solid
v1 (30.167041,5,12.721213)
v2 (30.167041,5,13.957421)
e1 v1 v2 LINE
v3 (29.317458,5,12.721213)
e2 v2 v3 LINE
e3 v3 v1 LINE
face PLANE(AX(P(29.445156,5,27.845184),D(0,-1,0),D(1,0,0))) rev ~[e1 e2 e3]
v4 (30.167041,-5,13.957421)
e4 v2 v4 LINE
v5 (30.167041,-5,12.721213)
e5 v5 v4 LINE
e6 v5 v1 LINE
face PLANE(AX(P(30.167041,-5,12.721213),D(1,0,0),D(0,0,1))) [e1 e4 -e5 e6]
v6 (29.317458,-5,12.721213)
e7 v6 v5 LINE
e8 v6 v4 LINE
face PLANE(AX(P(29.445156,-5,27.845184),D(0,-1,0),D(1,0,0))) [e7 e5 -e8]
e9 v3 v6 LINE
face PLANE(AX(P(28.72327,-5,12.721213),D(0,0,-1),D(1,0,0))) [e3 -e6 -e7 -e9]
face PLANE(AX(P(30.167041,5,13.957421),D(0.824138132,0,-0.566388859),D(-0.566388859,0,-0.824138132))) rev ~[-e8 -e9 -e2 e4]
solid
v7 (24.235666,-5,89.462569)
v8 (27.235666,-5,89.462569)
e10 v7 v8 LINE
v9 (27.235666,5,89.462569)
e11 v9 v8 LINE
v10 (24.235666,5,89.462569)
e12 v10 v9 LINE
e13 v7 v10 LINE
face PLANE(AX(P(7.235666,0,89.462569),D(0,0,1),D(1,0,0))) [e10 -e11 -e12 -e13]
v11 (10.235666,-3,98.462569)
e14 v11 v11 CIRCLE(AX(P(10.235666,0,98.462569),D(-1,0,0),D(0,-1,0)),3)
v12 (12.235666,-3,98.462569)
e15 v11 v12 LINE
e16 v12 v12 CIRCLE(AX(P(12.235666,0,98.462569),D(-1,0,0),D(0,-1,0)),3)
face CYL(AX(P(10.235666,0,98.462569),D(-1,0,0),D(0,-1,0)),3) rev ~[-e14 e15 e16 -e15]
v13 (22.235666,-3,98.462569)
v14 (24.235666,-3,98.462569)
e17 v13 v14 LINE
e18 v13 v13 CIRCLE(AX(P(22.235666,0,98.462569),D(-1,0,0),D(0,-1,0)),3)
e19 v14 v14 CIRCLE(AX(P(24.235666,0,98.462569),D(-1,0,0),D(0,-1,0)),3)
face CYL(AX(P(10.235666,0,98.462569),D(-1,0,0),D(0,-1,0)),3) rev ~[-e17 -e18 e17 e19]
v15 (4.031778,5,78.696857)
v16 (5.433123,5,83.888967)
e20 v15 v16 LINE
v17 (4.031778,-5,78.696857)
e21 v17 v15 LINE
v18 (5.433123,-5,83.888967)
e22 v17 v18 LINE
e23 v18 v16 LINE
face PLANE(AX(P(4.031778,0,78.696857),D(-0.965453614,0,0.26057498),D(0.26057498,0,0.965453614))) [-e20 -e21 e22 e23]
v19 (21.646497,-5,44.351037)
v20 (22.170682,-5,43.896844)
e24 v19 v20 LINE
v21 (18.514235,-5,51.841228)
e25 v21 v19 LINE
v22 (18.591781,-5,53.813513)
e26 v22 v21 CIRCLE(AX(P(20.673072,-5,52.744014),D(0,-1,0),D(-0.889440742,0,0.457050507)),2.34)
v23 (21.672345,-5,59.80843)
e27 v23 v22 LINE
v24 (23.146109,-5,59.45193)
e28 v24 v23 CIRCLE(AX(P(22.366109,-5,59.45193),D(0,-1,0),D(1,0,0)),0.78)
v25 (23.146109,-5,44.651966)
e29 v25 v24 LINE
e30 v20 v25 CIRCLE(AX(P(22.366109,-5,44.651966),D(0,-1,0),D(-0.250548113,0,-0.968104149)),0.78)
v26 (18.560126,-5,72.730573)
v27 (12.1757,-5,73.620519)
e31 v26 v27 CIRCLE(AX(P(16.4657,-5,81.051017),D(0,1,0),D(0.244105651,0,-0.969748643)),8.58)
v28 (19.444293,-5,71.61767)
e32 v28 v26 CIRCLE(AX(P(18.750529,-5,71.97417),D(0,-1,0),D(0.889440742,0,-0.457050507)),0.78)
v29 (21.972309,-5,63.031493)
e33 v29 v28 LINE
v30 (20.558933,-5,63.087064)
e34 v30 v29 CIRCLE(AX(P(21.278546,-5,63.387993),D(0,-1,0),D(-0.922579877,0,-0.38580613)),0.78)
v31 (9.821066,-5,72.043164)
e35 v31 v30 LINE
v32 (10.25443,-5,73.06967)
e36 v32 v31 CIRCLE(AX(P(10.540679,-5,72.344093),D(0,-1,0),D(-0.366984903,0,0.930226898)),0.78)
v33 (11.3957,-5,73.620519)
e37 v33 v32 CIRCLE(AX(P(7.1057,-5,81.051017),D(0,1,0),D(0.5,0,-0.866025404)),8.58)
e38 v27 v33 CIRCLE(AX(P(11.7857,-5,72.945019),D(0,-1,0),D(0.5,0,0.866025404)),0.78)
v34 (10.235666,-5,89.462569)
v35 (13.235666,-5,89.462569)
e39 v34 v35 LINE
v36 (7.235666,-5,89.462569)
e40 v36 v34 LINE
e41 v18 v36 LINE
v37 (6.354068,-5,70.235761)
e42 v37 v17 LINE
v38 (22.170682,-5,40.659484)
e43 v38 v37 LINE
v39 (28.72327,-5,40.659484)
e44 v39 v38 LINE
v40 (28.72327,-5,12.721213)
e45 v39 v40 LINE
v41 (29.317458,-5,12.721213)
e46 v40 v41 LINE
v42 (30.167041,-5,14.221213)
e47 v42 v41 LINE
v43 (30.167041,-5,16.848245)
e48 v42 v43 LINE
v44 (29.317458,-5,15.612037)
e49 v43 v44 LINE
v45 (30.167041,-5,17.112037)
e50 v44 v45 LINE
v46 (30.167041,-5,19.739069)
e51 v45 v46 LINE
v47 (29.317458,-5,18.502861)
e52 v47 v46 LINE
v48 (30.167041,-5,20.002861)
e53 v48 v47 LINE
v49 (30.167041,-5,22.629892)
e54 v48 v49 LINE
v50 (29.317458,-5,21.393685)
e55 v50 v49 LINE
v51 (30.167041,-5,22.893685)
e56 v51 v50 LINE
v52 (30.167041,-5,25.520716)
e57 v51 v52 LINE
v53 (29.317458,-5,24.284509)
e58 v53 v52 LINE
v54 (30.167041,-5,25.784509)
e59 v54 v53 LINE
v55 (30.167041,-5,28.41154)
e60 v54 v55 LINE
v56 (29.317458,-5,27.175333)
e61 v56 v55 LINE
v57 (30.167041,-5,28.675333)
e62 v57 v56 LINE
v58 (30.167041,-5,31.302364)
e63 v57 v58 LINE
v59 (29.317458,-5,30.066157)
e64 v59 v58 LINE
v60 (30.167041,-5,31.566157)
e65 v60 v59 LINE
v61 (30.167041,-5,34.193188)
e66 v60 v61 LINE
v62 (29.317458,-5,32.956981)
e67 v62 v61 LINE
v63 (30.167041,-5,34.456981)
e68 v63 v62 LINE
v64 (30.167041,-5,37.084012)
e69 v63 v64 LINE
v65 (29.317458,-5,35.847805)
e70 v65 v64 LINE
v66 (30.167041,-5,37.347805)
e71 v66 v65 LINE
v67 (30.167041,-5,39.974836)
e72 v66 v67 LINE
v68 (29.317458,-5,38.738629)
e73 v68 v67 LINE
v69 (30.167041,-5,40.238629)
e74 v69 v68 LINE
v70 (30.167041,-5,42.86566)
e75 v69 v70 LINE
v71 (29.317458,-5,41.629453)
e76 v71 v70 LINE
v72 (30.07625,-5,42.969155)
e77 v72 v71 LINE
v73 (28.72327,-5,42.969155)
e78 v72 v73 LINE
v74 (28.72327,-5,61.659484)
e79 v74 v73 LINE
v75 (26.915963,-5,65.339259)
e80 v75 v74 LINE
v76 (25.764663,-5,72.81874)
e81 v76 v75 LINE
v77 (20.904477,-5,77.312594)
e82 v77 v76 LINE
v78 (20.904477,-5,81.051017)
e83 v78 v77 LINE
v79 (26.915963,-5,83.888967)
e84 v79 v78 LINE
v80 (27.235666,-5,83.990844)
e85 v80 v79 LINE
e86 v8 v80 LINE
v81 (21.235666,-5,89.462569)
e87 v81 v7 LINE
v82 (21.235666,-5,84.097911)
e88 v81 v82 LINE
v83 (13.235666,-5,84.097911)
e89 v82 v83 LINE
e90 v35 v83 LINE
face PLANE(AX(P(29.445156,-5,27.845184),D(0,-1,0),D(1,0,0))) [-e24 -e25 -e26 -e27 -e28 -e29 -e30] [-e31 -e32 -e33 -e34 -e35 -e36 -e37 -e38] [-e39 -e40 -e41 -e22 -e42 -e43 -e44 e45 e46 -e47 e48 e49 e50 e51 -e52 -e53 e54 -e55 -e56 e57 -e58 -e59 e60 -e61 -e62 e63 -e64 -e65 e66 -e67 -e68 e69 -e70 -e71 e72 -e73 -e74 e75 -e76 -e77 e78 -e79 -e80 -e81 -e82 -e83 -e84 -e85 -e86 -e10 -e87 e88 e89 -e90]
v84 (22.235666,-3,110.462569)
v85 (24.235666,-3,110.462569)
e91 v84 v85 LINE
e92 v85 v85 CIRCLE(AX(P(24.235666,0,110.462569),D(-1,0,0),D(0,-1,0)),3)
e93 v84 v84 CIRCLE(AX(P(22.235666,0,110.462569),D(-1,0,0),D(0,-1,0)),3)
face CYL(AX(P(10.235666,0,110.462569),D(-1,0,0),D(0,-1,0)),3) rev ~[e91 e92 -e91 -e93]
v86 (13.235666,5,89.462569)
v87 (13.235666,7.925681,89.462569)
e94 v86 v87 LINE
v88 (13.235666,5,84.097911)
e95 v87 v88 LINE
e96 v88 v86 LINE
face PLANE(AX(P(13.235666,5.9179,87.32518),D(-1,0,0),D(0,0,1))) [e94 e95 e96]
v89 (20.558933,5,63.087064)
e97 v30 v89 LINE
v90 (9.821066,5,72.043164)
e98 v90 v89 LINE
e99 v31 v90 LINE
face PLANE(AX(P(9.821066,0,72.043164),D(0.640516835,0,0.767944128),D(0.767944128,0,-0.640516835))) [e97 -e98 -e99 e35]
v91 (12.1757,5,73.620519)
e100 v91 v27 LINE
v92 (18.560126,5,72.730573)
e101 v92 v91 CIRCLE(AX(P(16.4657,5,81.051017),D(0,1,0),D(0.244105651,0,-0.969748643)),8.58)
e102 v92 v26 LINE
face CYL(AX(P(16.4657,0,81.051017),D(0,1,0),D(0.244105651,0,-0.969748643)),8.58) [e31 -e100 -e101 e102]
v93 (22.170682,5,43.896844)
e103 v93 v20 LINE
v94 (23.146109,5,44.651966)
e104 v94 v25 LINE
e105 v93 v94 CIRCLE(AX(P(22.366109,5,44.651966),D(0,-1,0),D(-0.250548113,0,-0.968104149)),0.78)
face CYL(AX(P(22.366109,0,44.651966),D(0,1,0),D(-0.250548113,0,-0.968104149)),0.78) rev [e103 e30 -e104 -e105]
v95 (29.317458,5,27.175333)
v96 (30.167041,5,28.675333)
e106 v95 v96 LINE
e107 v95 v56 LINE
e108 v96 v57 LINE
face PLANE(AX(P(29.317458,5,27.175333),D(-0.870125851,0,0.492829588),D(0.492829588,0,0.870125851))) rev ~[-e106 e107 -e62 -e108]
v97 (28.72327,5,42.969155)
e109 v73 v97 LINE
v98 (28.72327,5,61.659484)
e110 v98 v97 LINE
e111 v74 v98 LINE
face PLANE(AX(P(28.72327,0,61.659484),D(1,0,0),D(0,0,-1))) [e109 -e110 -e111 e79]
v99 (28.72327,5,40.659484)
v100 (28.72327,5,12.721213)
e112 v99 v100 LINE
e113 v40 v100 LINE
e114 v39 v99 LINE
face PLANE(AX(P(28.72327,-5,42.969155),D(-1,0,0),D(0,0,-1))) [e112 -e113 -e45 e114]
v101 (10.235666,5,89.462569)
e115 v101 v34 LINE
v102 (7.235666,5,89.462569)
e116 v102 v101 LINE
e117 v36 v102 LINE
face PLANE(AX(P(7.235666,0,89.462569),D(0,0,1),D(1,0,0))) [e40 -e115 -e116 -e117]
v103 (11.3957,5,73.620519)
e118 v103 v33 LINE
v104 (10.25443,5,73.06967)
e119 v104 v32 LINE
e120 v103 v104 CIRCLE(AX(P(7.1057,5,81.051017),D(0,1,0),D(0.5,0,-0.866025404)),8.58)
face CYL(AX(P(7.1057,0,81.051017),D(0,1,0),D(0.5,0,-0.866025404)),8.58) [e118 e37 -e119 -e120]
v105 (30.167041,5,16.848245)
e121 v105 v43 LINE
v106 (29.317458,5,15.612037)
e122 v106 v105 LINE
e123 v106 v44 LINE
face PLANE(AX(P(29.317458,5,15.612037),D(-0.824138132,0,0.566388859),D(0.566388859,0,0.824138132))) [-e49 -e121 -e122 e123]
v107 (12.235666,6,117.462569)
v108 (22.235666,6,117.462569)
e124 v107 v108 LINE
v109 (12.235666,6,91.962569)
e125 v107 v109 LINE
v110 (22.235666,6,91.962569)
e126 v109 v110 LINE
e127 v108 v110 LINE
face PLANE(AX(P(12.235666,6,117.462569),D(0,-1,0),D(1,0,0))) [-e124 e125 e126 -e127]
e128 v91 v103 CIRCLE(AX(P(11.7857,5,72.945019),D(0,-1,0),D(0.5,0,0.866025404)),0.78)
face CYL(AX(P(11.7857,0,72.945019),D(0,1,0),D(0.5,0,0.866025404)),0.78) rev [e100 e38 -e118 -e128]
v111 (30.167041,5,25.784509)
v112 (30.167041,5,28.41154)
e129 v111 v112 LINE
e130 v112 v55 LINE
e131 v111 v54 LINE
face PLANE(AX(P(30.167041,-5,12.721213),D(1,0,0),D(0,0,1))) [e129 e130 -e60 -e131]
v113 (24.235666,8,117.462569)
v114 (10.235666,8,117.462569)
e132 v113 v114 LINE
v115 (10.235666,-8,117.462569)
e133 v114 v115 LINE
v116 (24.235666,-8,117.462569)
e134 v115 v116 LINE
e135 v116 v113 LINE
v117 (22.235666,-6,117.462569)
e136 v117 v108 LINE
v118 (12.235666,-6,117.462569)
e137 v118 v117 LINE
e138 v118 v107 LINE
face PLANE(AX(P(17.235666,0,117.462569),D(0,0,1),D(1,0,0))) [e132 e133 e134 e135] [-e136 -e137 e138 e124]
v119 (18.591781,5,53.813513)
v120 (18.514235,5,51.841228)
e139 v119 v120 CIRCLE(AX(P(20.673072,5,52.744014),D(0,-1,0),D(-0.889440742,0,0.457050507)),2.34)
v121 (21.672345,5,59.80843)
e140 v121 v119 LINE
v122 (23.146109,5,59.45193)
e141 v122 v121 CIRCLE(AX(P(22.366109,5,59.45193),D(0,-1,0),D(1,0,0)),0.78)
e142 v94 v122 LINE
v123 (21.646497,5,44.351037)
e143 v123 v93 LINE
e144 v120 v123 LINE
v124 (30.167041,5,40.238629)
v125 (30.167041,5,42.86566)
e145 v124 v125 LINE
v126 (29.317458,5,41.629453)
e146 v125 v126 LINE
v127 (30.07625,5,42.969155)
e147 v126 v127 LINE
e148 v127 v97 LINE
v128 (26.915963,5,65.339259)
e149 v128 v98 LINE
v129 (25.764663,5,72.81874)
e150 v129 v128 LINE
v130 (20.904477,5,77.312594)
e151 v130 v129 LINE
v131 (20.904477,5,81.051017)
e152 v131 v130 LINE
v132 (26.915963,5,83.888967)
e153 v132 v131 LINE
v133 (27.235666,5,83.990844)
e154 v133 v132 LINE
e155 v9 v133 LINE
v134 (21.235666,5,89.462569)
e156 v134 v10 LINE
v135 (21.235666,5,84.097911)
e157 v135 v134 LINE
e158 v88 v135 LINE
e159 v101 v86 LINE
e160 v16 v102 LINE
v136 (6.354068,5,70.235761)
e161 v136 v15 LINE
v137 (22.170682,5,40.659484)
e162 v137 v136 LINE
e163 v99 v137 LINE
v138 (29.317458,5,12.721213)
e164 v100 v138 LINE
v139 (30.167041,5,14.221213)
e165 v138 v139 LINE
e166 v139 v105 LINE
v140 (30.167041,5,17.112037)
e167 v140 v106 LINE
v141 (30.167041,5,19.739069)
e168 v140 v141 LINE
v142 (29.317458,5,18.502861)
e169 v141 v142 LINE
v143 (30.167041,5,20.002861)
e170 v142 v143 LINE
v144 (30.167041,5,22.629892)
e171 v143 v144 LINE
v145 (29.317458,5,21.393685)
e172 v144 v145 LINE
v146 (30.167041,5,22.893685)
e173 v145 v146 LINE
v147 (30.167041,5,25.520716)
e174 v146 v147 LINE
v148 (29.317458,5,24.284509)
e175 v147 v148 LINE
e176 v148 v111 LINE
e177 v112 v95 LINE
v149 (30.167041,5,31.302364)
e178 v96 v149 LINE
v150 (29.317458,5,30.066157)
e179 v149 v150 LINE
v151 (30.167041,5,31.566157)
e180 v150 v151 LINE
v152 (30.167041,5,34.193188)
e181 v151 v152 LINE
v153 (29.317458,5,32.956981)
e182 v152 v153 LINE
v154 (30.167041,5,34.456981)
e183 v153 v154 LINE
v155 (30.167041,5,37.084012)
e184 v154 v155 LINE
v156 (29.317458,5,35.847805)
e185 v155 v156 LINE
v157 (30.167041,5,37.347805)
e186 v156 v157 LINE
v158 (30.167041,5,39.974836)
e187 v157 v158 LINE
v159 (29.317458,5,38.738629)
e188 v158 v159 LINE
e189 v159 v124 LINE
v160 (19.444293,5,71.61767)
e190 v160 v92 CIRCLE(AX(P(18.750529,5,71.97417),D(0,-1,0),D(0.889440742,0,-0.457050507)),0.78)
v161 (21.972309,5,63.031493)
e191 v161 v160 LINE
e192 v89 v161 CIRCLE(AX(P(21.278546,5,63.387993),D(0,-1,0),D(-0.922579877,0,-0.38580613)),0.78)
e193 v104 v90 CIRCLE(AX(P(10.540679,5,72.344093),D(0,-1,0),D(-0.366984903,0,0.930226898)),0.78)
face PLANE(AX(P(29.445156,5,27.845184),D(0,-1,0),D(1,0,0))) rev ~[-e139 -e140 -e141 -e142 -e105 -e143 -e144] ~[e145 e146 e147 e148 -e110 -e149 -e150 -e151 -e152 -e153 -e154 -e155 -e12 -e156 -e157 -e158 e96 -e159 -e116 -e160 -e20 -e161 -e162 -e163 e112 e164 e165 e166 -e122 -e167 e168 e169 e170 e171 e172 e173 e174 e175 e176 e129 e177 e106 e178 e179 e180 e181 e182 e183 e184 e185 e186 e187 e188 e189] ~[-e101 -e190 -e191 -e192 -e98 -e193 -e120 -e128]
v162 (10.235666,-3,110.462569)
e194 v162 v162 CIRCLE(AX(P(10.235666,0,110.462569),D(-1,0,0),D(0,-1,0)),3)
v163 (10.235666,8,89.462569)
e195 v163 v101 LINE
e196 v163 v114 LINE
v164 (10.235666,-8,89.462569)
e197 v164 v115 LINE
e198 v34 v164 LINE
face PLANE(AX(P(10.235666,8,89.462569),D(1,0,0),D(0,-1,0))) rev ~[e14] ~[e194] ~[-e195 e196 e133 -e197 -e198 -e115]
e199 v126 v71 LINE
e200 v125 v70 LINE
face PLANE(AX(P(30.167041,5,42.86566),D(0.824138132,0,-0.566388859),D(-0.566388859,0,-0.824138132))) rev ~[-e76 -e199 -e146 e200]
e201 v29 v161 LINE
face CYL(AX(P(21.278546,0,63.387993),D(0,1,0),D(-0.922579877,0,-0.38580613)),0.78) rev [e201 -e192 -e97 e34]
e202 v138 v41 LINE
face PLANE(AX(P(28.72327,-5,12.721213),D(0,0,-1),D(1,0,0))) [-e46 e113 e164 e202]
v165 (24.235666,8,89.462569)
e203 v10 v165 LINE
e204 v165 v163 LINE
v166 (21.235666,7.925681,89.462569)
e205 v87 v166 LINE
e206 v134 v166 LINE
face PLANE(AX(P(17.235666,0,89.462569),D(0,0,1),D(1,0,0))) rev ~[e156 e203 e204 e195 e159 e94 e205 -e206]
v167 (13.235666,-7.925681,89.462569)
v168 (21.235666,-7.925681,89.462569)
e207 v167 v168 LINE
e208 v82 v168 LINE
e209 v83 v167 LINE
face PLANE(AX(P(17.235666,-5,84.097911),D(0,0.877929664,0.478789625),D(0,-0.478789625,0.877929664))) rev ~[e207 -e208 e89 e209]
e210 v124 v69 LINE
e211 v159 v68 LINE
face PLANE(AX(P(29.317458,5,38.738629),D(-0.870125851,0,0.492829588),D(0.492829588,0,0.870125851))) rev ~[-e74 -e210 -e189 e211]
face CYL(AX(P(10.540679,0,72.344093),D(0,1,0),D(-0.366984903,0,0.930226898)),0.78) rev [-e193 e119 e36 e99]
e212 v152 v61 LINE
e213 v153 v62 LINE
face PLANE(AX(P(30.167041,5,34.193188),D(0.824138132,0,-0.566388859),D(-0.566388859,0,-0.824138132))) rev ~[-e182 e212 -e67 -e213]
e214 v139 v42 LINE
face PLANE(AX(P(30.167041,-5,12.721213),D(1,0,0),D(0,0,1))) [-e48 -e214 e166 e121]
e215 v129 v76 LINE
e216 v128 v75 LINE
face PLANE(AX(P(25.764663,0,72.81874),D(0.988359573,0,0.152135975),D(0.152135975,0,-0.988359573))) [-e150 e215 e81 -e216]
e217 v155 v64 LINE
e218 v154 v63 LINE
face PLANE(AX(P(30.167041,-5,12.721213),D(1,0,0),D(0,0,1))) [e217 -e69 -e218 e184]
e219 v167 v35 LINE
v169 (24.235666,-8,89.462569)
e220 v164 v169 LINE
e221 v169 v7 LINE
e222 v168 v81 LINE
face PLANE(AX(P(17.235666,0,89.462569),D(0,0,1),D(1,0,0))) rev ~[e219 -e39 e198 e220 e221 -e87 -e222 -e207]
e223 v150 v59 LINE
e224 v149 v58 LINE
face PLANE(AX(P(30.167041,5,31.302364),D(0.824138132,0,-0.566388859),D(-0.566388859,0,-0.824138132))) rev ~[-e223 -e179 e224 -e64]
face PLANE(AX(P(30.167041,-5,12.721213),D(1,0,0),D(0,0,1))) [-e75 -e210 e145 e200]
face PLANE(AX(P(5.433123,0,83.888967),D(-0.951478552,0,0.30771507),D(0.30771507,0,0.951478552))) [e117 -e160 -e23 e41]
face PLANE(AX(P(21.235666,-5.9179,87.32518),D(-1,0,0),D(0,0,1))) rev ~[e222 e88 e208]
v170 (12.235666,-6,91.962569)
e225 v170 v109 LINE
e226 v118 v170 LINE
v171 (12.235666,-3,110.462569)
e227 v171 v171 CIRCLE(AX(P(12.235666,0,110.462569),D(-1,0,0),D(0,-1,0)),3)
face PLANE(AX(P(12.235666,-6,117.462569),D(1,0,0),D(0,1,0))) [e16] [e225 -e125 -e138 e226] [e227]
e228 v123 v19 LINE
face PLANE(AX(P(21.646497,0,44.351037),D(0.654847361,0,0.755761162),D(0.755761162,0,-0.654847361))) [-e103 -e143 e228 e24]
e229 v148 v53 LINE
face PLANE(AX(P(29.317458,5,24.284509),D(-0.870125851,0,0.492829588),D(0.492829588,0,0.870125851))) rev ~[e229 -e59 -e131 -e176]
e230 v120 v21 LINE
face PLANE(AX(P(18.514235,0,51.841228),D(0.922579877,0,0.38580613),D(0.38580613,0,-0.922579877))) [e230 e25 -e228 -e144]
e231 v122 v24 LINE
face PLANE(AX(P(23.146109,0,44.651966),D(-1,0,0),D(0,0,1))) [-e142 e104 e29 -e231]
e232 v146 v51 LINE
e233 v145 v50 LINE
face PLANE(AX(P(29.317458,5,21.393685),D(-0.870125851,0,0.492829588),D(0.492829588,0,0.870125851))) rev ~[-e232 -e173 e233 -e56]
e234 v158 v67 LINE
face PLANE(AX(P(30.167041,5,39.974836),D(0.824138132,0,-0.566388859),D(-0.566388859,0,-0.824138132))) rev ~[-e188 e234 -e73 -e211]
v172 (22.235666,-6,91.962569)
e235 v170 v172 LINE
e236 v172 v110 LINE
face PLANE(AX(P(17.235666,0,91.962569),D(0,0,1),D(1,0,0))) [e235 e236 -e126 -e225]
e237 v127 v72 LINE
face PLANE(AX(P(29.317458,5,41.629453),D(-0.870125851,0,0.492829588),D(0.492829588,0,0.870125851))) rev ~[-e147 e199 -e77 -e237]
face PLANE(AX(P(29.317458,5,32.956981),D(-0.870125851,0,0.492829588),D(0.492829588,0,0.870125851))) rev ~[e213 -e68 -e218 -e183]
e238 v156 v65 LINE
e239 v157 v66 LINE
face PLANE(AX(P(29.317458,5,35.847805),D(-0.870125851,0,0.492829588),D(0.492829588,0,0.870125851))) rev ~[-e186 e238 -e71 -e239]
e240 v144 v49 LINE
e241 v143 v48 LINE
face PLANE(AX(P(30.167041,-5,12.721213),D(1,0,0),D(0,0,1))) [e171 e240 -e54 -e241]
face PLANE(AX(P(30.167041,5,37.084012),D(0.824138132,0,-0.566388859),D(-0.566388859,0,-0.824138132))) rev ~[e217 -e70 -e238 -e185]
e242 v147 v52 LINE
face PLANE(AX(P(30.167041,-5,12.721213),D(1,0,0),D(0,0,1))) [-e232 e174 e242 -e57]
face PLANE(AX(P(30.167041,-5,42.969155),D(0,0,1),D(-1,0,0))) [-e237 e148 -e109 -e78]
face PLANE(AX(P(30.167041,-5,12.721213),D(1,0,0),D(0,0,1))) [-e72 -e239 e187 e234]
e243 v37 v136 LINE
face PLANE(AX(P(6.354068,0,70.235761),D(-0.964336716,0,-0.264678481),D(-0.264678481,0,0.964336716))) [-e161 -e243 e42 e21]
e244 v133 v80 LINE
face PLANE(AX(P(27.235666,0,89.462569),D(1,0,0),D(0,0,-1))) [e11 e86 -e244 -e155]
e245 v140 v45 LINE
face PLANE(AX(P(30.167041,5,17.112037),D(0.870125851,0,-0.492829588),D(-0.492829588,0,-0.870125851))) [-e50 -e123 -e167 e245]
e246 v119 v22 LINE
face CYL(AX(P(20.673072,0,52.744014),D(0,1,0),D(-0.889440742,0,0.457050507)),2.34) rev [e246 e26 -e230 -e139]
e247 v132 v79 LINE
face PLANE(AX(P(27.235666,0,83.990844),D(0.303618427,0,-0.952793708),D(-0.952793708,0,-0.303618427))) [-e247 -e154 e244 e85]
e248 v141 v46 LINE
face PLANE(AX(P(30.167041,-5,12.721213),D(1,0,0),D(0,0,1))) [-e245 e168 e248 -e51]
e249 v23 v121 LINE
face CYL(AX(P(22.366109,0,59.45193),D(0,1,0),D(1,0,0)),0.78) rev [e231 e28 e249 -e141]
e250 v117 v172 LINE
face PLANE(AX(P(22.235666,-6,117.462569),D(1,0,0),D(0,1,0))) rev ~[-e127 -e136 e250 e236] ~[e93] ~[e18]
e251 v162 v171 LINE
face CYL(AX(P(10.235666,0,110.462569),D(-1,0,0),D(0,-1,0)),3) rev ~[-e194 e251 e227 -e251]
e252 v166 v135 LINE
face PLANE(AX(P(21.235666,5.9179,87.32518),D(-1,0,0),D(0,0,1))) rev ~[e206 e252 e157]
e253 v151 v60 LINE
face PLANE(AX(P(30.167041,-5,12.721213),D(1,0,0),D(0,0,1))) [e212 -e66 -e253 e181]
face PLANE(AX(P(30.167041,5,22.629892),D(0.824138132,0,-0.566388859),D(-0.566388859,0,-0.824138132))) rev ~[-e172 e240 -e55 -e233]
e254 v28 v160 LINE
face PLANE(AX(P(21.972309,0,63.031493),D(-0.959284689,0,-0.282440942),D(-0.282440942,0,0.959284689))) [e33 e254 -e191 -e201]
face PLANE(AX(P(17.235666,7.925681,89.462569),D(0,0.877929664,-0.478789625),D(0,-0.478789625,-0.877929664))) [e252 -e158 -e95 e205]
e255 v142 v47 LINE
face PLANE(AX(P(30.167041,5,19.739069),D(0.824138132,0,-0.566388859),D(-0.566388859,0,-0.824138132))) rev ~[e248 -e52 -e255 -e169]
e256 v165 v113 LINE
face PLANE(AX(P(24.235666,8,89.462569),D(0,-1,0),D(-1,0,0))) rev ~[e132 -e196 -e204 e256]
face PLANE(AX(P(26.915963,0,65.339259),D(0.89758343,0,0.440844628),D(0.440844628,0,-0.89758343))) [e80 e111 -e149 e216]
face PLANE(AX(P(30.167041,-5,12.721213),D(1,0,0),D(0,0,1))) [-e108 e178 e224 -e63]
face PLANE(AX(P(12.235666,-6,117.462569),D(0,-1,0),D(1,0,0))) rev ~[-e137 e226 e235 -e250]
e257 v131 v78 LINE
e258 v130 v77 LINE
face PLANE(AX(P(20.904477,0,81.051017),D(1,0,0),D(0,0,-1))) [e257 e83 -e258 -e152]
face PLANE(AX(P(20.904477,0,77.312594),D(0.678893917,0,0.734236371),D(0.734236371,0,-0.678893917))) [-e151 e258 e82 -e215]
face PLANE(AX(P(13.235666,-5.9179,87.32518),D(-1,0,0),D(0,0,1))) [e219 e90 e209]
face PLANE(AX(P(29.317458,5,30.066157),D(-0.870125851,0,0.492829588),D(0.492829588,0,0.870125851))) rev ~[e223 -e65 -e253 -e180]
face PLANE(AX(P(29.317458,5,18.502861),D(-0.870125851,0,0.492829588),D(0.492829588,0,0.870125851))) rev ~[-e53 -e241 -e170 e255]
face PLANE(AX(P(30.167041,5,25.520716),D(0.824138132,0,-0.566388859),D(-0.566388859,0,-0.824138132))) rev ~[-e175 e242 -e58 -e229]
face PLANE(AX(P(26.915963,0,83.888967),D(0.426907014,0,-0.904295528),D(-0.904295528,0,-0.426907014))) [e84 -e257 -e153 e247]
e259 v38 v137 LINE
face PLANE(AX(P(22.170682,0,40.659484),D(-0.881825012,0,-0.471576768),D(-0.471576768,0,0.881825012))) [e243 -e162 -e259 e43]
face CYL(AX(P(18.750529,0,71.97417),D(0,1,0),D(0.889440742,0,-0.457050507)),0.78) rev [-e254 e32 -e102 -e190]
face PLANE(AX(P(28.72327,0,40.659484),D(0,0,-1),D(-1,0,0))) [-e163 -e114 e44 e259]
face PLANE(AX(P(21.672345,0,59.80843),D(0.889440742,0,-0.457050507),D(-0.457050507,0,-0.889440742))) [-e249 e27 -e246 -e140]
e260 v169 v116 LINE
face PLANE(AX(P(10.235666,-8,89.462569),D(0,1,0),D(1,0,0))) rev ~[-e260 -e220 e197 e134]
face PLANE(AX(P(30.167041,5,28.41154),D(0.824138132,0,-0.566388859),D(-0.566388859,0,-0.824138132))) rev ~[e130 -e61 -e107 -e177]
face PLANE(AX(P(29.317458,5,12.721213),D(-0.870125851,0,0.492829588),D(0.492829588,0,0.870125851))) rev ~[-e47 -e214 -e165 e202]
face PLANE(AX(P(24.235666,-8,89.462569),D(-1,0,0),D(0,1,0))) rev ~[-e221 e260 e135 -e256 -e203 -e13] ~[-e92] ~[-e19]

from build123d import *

# Parameters (mm, degrees)
SALIENTE_EXTRUIR1_DEPTH = 5
SALIENTE_EXTRUIR2_DEPTH = 10
CUT_EXTRUDE1_DEPTH      = 95.93998922245981
BOSS_EXTRUDE2_DEPTH     = 28
SKETCH9_W               = 10.000000000000002
SKETCH9_H               = 12
CUT_EXTRUDE5_DEPTH      = 25.5
BOSS_EXTRUDE4_DEPTH     = 4
SKETCH8_R               = 2.999999999999989
CUT_EXTRUDE6_DEPTH      = 30


with BuildPart() as part:
    # Croquis1 → Saliente-Extruir1 (new, symmetric)
    with BuildSketch(Plane(origin=(0, 0, 0), x_dir=(1, 0, 0), z_dir=(0, 1, 0))):
        Polygon((26.915963098267575, -65.33925873527804), (28.72327045931731, -61.65948350871261), (28.72327045931731, -40.659483508712604), (22.170681671405973, -40.659483508712604), (6.35406798016902, -70.23576145650345), (4.0317775841889825, -78.69685690697727), (5.433122947121303, -83.88896685505465), (7.2356662280183635, -89.46256866352141), (27.235666228018367, -89.46256866352135), (27.235666228018367, -83.99084385179745), (26.915963098267575, -83.88896685505465), (20.90447714075739, -81.05101682856319), (20.90447714075739, -77.31259376727242), (25.764663289477145, -72.8187400941099), align=None)
        with BuildLine():
            Line((9.821066256588082, -72.04316428414087), (20.5589333036859, -63.08706400458823))
            ThreePointArc((20.5589333036859, -63.08706400458823), (20.767764666496063, -62.79849907988661), (21.083118079778938, -62.6328715501941))
            ThreePointArc((21.083118079778938, -62.6328715501941), (21.597621770602938, -62.67624114259194), (21.972309386725804, -63.031493390636115))
            Line((21.9723093867258, -63.031493390636115), (19.44429254500012, -71.61767013188037))
            ThreePointArc((19.44429254500012, -71.61767013188037), (19.502654350523237, -72.1808265025535), (19.16473943472284, -72.63510032730379))
            ThreePointArc((19.16473943472284, -72.63510032730379), (18.905879524091997, -72.73854256608807), (18.62717721828115, -72.74435417793264))
            ThreePointArc((18.62717721828115, -72.74435417793264), (18.593500542050098, -72.73819972124883), (18.560126358304874, -72.73057346932643))
            ThreePointArc((18.560126358304874, -72.73057346932643), (15.281159258646955, -72.55317807186373), (12.175699872191544, -73.62051886409272))
            ThreePointArc((12.175699872191544, -73.62051886409272), (11.987578727371515, -73.69844119364632), (11.785699872191557, -73.72501904914084))
            ThreePointArc((11.785699872191557, -73.72501904914084), (11.583821017011589, -73.69844119364633), (11.395699872191557, -73.62051886409272))
            ThreePointArc((11.395699872191557, -73.62051886409272), (10.835248951640853, -73.32399517310118), (10.254430336713742, -73.06967004610912))
            ThreePointArc((10.254430336713742, -73.06967004610912), (10.011115132081741, -72.9167732340473), (9.839678957283844, -72.68614504428194))
            ThreePointArc((9.839678957283844, -72.68614504428194), (9.76100515957486, -72.36666268002743), (9.821066256588082, -72.04316428414087))
        make_face(mode=Mode.SUBTRACT)
        with BuildLine():
            Line((21.672345420619333, -59.808429563113535), (18.5917806510747, -53.81351265341419))
            ThreePointArc((18.5917806510747, -53.81351265341419), (18.51589589891999, -53.65076212808047), (18.452714922493957, -53.48267169609864))
            ThreePointArc((18.452714922493957, -53.48267169609864), (18.334713754625824, -52.65637444161208), (18.514235075155533, -51.84122812108702))
            Line((18.514235075155533, -51.84122812108702), (21.64649689531295, -44.35103681201493))
            Line((21.64649689531295, -44.35103681201493), (22.170681671405973, -43.89684435762081))
            ThreePointArc((22.170681671405973, -43.89684435762081), (22.519573206251422, -43.88721151653816), (22.837737106462836, -44.03070307488359))
            ThreePointArc((22.837737106462836, -44.03070307488359), (23.06477570342122, -44.30517298097964), (23.146109199486098, -44.65196559376006))
            Line((23.146109199486098, -44.65196559376006), (23.146109199486098, -59.45193016741627))
            ThreePointArc((23.146109199486098, -59.45193016741627), (23.06477570342123, -59.7987227801967), (22.837737106462843, -60.07319268629275))
            ThreePointArc((22.837737106462843, -60.07319268629275), (22.19330594649592, -60.21254770320941), (21.672345420619333, -59.808429563113535))
        make_face(mode=Mode.SUBTRACT)
    extrude(amount=SALIENTE_EXTRUIR1_DEPTH, both=True)

    # Croquis2 → Saliente-Extruir2 (add)
    with BuildSketch(Plane.XZ.offset(5)):
        Polygon((30.16704098325694, 42.969154574791474), (28.723270459317312, 42.969154574791474), (28.723270459317316, 12.721213466502482), (30.16704098325694, 12.721213466502482), align=None)
    extrude(amount=-SALIENTE_EXTRUIR2_DEPTH)

    # Sketch2 → Cut-Extrude1 (cut, through all)
    with BuildSketch(Plane(origin=(0, 5, 0), x_dir=(1, 0, 0), z_dir=(0, 1, 0))):
        Polygon((30.16704098325694, -13.957420664168177), (29.31745769455622, -12.721213466502482), (30.16704098325694, -14.22121346650248), align=None)
        Polygon((30.16704098325694, -16.848244602946536), (30.16704098325694, -17.11203740528084), (29.31745769455622, -15.61203740528084), align=None)
        Polygon((29.31745769455622, -18.502861344059202), (30.16704098325694, -20.002861344059202), (30.16704098325694, -19.739068541724897), align=None)
        Polygon((29.31745769455622, -21.393685282837563), (30.16704098325694, -22.893685282837563), (30.16704098325694, -22.62989248050326), align=None)
        Polygon((29.31745769455622, -24.284509221615924), (30.16704098325694, -25.78450922161592), (30.16704098325694, -25.520716419281616), align=None)
        Polygon((29.31745769455622, -27.17533316039428), (30.16704098325694, -28.675333160394278), (30.16704098325694, -28.411540358059977), align=None)
        Polygon((29.31745769455622, -30.066157099172642), (30.16704098325694, -31.56615709917264), (30.16704098325694, -31.302364296838338), align=None)
        Polygon((29.31745769455622, -32.956981037951), (30.16704098325694, -34.456981037951), (30.16704098325694, -34.193188235616695), align=None)
        Polygon((29.31745769455622, -35.847804976729364), (30.16704098325694, -37.347804976729364), (30.16704098325694, -37.084012174395056), align=None)
        Polygon((29.31745769455622, -38.738628915507725), (30.16704098325694, -40.238628915507725), (30.16704098325694, -39.97483611317342), align=None)
        Polygon((29.31745769455622, -41.629452854286086), (30.16704098325694, -43.12945285428608), (30.16704098325694, -42.86566005195178), align=None)
        Polygon((29.31745769455622, -44.52027679306445), (30.16704098325694, -46.02027679306444), (30.16704098325694, -45.75648399073014), align=None)
        Polygon((29.31745769455622, -47.41110073184281), (30.16704098325694, -48.9111007318428), (30.16704098325694, -48.6473079295085), align=None)
        Polygon((29.31745769455622, -50.30192467062117), (30.16704098325694, -51.80192467062116), (30.16704098325694, -51.53813186828686), align=None)
        Polygon((29.31745769455622, -53.192748609399516), (30.16704098325694, -54.692748609399516), (30.16704098325694, -54.428955807065215), align=None)
    extrude(amount=-CUT_EXTRUDE1_DEPTH, mode=Mode.SUBTRACT)


with BuildPart() as cut_extrude1_piece_1:
    # of the separate pieces the step leaves, piece 1, a body of its own (cut_extrude1_pieces)
    add(part.part.solids().sort_by_distance((26.915963098, -5, 65.339258735))[0])

    # Sketch7 → Boss-Extrude2 (add)
    with BuildSketch(Plane.XY.offset(89.46256866352142)):
        Polygon((10.235666228018118, 7.9999999999999964), (10.23566622801812, -8.000000000000004), (24.23566622801812, -8.000000000000004), (24.23566622801812, 7.9999999999999964), align=None)
    extrude(amount=BOSS_EXTRUDE2_DEPTH)

    # Sketch9 → Cut-Extrude5 (cut)
    with BuildSketch(Plane.XY.offset(117.46256866352142)):
        with Locations((17.23566622801837, 0)):
            Rectangle(SKETCH9_W, SKETCH9_H)
    extrude(amount=-CUT_EXTRUDE5_DEPTH, mode=Mode.SUBTRACT)

    # Sketch10 → Boss-Extrude4 (add, symmetric)
    with BuildSketch(Plane(origin=(17.235666228018367, 0, 0), x_dir=(0, 0, -1), z_dir=(1, 3.5e-16, 0))):
        Polygon((-84.0979108440365, 5.000000000000003), (-89.46256866352141, 5.0000000000000036), (-89.46256866352141, 7.925681422350478), align=None)
        Polygon((-89.46256866352141, -5.0000000000000036), (-84.0979108440365, -5.000000000000003), (-89.46256866352141, -7.925681422350478), align=None)
    extrude(amount=BOSS_EXTRUDE4_DEPTH, both=True)

    # Sketch8 → Cut-Extrude6 (cut)
    with BuildSketch(Plane.ZY.offset(-10.235666228018367)):
        with Locations(Location((98.46256866352141, -3.045e-14, 0), (0, 0, 270))):
            Circle(SKETCH8_R)
        with Locations(Location((110.46256866352141, -2.605e-14, 0), (0, 0, 270))):
            Circle(SKETCH8_R)
    extrude(amount=-CUT_EXTRUDE6_DEPTH, mode=Mode.SUBTRACT)


with BuildPart() as cut_extrude1_piece_2:
    # of the separate pieces the step leaves, piece 2, a body of its own (cut_extrude1_pieces)
    add(part.part.solids().sort_by_distance((30.167040983, -5, 12.721213467))[0])


solid = Compound([cut_extrude1_piece_1.part, cut_extrude1_piece_2.part])
